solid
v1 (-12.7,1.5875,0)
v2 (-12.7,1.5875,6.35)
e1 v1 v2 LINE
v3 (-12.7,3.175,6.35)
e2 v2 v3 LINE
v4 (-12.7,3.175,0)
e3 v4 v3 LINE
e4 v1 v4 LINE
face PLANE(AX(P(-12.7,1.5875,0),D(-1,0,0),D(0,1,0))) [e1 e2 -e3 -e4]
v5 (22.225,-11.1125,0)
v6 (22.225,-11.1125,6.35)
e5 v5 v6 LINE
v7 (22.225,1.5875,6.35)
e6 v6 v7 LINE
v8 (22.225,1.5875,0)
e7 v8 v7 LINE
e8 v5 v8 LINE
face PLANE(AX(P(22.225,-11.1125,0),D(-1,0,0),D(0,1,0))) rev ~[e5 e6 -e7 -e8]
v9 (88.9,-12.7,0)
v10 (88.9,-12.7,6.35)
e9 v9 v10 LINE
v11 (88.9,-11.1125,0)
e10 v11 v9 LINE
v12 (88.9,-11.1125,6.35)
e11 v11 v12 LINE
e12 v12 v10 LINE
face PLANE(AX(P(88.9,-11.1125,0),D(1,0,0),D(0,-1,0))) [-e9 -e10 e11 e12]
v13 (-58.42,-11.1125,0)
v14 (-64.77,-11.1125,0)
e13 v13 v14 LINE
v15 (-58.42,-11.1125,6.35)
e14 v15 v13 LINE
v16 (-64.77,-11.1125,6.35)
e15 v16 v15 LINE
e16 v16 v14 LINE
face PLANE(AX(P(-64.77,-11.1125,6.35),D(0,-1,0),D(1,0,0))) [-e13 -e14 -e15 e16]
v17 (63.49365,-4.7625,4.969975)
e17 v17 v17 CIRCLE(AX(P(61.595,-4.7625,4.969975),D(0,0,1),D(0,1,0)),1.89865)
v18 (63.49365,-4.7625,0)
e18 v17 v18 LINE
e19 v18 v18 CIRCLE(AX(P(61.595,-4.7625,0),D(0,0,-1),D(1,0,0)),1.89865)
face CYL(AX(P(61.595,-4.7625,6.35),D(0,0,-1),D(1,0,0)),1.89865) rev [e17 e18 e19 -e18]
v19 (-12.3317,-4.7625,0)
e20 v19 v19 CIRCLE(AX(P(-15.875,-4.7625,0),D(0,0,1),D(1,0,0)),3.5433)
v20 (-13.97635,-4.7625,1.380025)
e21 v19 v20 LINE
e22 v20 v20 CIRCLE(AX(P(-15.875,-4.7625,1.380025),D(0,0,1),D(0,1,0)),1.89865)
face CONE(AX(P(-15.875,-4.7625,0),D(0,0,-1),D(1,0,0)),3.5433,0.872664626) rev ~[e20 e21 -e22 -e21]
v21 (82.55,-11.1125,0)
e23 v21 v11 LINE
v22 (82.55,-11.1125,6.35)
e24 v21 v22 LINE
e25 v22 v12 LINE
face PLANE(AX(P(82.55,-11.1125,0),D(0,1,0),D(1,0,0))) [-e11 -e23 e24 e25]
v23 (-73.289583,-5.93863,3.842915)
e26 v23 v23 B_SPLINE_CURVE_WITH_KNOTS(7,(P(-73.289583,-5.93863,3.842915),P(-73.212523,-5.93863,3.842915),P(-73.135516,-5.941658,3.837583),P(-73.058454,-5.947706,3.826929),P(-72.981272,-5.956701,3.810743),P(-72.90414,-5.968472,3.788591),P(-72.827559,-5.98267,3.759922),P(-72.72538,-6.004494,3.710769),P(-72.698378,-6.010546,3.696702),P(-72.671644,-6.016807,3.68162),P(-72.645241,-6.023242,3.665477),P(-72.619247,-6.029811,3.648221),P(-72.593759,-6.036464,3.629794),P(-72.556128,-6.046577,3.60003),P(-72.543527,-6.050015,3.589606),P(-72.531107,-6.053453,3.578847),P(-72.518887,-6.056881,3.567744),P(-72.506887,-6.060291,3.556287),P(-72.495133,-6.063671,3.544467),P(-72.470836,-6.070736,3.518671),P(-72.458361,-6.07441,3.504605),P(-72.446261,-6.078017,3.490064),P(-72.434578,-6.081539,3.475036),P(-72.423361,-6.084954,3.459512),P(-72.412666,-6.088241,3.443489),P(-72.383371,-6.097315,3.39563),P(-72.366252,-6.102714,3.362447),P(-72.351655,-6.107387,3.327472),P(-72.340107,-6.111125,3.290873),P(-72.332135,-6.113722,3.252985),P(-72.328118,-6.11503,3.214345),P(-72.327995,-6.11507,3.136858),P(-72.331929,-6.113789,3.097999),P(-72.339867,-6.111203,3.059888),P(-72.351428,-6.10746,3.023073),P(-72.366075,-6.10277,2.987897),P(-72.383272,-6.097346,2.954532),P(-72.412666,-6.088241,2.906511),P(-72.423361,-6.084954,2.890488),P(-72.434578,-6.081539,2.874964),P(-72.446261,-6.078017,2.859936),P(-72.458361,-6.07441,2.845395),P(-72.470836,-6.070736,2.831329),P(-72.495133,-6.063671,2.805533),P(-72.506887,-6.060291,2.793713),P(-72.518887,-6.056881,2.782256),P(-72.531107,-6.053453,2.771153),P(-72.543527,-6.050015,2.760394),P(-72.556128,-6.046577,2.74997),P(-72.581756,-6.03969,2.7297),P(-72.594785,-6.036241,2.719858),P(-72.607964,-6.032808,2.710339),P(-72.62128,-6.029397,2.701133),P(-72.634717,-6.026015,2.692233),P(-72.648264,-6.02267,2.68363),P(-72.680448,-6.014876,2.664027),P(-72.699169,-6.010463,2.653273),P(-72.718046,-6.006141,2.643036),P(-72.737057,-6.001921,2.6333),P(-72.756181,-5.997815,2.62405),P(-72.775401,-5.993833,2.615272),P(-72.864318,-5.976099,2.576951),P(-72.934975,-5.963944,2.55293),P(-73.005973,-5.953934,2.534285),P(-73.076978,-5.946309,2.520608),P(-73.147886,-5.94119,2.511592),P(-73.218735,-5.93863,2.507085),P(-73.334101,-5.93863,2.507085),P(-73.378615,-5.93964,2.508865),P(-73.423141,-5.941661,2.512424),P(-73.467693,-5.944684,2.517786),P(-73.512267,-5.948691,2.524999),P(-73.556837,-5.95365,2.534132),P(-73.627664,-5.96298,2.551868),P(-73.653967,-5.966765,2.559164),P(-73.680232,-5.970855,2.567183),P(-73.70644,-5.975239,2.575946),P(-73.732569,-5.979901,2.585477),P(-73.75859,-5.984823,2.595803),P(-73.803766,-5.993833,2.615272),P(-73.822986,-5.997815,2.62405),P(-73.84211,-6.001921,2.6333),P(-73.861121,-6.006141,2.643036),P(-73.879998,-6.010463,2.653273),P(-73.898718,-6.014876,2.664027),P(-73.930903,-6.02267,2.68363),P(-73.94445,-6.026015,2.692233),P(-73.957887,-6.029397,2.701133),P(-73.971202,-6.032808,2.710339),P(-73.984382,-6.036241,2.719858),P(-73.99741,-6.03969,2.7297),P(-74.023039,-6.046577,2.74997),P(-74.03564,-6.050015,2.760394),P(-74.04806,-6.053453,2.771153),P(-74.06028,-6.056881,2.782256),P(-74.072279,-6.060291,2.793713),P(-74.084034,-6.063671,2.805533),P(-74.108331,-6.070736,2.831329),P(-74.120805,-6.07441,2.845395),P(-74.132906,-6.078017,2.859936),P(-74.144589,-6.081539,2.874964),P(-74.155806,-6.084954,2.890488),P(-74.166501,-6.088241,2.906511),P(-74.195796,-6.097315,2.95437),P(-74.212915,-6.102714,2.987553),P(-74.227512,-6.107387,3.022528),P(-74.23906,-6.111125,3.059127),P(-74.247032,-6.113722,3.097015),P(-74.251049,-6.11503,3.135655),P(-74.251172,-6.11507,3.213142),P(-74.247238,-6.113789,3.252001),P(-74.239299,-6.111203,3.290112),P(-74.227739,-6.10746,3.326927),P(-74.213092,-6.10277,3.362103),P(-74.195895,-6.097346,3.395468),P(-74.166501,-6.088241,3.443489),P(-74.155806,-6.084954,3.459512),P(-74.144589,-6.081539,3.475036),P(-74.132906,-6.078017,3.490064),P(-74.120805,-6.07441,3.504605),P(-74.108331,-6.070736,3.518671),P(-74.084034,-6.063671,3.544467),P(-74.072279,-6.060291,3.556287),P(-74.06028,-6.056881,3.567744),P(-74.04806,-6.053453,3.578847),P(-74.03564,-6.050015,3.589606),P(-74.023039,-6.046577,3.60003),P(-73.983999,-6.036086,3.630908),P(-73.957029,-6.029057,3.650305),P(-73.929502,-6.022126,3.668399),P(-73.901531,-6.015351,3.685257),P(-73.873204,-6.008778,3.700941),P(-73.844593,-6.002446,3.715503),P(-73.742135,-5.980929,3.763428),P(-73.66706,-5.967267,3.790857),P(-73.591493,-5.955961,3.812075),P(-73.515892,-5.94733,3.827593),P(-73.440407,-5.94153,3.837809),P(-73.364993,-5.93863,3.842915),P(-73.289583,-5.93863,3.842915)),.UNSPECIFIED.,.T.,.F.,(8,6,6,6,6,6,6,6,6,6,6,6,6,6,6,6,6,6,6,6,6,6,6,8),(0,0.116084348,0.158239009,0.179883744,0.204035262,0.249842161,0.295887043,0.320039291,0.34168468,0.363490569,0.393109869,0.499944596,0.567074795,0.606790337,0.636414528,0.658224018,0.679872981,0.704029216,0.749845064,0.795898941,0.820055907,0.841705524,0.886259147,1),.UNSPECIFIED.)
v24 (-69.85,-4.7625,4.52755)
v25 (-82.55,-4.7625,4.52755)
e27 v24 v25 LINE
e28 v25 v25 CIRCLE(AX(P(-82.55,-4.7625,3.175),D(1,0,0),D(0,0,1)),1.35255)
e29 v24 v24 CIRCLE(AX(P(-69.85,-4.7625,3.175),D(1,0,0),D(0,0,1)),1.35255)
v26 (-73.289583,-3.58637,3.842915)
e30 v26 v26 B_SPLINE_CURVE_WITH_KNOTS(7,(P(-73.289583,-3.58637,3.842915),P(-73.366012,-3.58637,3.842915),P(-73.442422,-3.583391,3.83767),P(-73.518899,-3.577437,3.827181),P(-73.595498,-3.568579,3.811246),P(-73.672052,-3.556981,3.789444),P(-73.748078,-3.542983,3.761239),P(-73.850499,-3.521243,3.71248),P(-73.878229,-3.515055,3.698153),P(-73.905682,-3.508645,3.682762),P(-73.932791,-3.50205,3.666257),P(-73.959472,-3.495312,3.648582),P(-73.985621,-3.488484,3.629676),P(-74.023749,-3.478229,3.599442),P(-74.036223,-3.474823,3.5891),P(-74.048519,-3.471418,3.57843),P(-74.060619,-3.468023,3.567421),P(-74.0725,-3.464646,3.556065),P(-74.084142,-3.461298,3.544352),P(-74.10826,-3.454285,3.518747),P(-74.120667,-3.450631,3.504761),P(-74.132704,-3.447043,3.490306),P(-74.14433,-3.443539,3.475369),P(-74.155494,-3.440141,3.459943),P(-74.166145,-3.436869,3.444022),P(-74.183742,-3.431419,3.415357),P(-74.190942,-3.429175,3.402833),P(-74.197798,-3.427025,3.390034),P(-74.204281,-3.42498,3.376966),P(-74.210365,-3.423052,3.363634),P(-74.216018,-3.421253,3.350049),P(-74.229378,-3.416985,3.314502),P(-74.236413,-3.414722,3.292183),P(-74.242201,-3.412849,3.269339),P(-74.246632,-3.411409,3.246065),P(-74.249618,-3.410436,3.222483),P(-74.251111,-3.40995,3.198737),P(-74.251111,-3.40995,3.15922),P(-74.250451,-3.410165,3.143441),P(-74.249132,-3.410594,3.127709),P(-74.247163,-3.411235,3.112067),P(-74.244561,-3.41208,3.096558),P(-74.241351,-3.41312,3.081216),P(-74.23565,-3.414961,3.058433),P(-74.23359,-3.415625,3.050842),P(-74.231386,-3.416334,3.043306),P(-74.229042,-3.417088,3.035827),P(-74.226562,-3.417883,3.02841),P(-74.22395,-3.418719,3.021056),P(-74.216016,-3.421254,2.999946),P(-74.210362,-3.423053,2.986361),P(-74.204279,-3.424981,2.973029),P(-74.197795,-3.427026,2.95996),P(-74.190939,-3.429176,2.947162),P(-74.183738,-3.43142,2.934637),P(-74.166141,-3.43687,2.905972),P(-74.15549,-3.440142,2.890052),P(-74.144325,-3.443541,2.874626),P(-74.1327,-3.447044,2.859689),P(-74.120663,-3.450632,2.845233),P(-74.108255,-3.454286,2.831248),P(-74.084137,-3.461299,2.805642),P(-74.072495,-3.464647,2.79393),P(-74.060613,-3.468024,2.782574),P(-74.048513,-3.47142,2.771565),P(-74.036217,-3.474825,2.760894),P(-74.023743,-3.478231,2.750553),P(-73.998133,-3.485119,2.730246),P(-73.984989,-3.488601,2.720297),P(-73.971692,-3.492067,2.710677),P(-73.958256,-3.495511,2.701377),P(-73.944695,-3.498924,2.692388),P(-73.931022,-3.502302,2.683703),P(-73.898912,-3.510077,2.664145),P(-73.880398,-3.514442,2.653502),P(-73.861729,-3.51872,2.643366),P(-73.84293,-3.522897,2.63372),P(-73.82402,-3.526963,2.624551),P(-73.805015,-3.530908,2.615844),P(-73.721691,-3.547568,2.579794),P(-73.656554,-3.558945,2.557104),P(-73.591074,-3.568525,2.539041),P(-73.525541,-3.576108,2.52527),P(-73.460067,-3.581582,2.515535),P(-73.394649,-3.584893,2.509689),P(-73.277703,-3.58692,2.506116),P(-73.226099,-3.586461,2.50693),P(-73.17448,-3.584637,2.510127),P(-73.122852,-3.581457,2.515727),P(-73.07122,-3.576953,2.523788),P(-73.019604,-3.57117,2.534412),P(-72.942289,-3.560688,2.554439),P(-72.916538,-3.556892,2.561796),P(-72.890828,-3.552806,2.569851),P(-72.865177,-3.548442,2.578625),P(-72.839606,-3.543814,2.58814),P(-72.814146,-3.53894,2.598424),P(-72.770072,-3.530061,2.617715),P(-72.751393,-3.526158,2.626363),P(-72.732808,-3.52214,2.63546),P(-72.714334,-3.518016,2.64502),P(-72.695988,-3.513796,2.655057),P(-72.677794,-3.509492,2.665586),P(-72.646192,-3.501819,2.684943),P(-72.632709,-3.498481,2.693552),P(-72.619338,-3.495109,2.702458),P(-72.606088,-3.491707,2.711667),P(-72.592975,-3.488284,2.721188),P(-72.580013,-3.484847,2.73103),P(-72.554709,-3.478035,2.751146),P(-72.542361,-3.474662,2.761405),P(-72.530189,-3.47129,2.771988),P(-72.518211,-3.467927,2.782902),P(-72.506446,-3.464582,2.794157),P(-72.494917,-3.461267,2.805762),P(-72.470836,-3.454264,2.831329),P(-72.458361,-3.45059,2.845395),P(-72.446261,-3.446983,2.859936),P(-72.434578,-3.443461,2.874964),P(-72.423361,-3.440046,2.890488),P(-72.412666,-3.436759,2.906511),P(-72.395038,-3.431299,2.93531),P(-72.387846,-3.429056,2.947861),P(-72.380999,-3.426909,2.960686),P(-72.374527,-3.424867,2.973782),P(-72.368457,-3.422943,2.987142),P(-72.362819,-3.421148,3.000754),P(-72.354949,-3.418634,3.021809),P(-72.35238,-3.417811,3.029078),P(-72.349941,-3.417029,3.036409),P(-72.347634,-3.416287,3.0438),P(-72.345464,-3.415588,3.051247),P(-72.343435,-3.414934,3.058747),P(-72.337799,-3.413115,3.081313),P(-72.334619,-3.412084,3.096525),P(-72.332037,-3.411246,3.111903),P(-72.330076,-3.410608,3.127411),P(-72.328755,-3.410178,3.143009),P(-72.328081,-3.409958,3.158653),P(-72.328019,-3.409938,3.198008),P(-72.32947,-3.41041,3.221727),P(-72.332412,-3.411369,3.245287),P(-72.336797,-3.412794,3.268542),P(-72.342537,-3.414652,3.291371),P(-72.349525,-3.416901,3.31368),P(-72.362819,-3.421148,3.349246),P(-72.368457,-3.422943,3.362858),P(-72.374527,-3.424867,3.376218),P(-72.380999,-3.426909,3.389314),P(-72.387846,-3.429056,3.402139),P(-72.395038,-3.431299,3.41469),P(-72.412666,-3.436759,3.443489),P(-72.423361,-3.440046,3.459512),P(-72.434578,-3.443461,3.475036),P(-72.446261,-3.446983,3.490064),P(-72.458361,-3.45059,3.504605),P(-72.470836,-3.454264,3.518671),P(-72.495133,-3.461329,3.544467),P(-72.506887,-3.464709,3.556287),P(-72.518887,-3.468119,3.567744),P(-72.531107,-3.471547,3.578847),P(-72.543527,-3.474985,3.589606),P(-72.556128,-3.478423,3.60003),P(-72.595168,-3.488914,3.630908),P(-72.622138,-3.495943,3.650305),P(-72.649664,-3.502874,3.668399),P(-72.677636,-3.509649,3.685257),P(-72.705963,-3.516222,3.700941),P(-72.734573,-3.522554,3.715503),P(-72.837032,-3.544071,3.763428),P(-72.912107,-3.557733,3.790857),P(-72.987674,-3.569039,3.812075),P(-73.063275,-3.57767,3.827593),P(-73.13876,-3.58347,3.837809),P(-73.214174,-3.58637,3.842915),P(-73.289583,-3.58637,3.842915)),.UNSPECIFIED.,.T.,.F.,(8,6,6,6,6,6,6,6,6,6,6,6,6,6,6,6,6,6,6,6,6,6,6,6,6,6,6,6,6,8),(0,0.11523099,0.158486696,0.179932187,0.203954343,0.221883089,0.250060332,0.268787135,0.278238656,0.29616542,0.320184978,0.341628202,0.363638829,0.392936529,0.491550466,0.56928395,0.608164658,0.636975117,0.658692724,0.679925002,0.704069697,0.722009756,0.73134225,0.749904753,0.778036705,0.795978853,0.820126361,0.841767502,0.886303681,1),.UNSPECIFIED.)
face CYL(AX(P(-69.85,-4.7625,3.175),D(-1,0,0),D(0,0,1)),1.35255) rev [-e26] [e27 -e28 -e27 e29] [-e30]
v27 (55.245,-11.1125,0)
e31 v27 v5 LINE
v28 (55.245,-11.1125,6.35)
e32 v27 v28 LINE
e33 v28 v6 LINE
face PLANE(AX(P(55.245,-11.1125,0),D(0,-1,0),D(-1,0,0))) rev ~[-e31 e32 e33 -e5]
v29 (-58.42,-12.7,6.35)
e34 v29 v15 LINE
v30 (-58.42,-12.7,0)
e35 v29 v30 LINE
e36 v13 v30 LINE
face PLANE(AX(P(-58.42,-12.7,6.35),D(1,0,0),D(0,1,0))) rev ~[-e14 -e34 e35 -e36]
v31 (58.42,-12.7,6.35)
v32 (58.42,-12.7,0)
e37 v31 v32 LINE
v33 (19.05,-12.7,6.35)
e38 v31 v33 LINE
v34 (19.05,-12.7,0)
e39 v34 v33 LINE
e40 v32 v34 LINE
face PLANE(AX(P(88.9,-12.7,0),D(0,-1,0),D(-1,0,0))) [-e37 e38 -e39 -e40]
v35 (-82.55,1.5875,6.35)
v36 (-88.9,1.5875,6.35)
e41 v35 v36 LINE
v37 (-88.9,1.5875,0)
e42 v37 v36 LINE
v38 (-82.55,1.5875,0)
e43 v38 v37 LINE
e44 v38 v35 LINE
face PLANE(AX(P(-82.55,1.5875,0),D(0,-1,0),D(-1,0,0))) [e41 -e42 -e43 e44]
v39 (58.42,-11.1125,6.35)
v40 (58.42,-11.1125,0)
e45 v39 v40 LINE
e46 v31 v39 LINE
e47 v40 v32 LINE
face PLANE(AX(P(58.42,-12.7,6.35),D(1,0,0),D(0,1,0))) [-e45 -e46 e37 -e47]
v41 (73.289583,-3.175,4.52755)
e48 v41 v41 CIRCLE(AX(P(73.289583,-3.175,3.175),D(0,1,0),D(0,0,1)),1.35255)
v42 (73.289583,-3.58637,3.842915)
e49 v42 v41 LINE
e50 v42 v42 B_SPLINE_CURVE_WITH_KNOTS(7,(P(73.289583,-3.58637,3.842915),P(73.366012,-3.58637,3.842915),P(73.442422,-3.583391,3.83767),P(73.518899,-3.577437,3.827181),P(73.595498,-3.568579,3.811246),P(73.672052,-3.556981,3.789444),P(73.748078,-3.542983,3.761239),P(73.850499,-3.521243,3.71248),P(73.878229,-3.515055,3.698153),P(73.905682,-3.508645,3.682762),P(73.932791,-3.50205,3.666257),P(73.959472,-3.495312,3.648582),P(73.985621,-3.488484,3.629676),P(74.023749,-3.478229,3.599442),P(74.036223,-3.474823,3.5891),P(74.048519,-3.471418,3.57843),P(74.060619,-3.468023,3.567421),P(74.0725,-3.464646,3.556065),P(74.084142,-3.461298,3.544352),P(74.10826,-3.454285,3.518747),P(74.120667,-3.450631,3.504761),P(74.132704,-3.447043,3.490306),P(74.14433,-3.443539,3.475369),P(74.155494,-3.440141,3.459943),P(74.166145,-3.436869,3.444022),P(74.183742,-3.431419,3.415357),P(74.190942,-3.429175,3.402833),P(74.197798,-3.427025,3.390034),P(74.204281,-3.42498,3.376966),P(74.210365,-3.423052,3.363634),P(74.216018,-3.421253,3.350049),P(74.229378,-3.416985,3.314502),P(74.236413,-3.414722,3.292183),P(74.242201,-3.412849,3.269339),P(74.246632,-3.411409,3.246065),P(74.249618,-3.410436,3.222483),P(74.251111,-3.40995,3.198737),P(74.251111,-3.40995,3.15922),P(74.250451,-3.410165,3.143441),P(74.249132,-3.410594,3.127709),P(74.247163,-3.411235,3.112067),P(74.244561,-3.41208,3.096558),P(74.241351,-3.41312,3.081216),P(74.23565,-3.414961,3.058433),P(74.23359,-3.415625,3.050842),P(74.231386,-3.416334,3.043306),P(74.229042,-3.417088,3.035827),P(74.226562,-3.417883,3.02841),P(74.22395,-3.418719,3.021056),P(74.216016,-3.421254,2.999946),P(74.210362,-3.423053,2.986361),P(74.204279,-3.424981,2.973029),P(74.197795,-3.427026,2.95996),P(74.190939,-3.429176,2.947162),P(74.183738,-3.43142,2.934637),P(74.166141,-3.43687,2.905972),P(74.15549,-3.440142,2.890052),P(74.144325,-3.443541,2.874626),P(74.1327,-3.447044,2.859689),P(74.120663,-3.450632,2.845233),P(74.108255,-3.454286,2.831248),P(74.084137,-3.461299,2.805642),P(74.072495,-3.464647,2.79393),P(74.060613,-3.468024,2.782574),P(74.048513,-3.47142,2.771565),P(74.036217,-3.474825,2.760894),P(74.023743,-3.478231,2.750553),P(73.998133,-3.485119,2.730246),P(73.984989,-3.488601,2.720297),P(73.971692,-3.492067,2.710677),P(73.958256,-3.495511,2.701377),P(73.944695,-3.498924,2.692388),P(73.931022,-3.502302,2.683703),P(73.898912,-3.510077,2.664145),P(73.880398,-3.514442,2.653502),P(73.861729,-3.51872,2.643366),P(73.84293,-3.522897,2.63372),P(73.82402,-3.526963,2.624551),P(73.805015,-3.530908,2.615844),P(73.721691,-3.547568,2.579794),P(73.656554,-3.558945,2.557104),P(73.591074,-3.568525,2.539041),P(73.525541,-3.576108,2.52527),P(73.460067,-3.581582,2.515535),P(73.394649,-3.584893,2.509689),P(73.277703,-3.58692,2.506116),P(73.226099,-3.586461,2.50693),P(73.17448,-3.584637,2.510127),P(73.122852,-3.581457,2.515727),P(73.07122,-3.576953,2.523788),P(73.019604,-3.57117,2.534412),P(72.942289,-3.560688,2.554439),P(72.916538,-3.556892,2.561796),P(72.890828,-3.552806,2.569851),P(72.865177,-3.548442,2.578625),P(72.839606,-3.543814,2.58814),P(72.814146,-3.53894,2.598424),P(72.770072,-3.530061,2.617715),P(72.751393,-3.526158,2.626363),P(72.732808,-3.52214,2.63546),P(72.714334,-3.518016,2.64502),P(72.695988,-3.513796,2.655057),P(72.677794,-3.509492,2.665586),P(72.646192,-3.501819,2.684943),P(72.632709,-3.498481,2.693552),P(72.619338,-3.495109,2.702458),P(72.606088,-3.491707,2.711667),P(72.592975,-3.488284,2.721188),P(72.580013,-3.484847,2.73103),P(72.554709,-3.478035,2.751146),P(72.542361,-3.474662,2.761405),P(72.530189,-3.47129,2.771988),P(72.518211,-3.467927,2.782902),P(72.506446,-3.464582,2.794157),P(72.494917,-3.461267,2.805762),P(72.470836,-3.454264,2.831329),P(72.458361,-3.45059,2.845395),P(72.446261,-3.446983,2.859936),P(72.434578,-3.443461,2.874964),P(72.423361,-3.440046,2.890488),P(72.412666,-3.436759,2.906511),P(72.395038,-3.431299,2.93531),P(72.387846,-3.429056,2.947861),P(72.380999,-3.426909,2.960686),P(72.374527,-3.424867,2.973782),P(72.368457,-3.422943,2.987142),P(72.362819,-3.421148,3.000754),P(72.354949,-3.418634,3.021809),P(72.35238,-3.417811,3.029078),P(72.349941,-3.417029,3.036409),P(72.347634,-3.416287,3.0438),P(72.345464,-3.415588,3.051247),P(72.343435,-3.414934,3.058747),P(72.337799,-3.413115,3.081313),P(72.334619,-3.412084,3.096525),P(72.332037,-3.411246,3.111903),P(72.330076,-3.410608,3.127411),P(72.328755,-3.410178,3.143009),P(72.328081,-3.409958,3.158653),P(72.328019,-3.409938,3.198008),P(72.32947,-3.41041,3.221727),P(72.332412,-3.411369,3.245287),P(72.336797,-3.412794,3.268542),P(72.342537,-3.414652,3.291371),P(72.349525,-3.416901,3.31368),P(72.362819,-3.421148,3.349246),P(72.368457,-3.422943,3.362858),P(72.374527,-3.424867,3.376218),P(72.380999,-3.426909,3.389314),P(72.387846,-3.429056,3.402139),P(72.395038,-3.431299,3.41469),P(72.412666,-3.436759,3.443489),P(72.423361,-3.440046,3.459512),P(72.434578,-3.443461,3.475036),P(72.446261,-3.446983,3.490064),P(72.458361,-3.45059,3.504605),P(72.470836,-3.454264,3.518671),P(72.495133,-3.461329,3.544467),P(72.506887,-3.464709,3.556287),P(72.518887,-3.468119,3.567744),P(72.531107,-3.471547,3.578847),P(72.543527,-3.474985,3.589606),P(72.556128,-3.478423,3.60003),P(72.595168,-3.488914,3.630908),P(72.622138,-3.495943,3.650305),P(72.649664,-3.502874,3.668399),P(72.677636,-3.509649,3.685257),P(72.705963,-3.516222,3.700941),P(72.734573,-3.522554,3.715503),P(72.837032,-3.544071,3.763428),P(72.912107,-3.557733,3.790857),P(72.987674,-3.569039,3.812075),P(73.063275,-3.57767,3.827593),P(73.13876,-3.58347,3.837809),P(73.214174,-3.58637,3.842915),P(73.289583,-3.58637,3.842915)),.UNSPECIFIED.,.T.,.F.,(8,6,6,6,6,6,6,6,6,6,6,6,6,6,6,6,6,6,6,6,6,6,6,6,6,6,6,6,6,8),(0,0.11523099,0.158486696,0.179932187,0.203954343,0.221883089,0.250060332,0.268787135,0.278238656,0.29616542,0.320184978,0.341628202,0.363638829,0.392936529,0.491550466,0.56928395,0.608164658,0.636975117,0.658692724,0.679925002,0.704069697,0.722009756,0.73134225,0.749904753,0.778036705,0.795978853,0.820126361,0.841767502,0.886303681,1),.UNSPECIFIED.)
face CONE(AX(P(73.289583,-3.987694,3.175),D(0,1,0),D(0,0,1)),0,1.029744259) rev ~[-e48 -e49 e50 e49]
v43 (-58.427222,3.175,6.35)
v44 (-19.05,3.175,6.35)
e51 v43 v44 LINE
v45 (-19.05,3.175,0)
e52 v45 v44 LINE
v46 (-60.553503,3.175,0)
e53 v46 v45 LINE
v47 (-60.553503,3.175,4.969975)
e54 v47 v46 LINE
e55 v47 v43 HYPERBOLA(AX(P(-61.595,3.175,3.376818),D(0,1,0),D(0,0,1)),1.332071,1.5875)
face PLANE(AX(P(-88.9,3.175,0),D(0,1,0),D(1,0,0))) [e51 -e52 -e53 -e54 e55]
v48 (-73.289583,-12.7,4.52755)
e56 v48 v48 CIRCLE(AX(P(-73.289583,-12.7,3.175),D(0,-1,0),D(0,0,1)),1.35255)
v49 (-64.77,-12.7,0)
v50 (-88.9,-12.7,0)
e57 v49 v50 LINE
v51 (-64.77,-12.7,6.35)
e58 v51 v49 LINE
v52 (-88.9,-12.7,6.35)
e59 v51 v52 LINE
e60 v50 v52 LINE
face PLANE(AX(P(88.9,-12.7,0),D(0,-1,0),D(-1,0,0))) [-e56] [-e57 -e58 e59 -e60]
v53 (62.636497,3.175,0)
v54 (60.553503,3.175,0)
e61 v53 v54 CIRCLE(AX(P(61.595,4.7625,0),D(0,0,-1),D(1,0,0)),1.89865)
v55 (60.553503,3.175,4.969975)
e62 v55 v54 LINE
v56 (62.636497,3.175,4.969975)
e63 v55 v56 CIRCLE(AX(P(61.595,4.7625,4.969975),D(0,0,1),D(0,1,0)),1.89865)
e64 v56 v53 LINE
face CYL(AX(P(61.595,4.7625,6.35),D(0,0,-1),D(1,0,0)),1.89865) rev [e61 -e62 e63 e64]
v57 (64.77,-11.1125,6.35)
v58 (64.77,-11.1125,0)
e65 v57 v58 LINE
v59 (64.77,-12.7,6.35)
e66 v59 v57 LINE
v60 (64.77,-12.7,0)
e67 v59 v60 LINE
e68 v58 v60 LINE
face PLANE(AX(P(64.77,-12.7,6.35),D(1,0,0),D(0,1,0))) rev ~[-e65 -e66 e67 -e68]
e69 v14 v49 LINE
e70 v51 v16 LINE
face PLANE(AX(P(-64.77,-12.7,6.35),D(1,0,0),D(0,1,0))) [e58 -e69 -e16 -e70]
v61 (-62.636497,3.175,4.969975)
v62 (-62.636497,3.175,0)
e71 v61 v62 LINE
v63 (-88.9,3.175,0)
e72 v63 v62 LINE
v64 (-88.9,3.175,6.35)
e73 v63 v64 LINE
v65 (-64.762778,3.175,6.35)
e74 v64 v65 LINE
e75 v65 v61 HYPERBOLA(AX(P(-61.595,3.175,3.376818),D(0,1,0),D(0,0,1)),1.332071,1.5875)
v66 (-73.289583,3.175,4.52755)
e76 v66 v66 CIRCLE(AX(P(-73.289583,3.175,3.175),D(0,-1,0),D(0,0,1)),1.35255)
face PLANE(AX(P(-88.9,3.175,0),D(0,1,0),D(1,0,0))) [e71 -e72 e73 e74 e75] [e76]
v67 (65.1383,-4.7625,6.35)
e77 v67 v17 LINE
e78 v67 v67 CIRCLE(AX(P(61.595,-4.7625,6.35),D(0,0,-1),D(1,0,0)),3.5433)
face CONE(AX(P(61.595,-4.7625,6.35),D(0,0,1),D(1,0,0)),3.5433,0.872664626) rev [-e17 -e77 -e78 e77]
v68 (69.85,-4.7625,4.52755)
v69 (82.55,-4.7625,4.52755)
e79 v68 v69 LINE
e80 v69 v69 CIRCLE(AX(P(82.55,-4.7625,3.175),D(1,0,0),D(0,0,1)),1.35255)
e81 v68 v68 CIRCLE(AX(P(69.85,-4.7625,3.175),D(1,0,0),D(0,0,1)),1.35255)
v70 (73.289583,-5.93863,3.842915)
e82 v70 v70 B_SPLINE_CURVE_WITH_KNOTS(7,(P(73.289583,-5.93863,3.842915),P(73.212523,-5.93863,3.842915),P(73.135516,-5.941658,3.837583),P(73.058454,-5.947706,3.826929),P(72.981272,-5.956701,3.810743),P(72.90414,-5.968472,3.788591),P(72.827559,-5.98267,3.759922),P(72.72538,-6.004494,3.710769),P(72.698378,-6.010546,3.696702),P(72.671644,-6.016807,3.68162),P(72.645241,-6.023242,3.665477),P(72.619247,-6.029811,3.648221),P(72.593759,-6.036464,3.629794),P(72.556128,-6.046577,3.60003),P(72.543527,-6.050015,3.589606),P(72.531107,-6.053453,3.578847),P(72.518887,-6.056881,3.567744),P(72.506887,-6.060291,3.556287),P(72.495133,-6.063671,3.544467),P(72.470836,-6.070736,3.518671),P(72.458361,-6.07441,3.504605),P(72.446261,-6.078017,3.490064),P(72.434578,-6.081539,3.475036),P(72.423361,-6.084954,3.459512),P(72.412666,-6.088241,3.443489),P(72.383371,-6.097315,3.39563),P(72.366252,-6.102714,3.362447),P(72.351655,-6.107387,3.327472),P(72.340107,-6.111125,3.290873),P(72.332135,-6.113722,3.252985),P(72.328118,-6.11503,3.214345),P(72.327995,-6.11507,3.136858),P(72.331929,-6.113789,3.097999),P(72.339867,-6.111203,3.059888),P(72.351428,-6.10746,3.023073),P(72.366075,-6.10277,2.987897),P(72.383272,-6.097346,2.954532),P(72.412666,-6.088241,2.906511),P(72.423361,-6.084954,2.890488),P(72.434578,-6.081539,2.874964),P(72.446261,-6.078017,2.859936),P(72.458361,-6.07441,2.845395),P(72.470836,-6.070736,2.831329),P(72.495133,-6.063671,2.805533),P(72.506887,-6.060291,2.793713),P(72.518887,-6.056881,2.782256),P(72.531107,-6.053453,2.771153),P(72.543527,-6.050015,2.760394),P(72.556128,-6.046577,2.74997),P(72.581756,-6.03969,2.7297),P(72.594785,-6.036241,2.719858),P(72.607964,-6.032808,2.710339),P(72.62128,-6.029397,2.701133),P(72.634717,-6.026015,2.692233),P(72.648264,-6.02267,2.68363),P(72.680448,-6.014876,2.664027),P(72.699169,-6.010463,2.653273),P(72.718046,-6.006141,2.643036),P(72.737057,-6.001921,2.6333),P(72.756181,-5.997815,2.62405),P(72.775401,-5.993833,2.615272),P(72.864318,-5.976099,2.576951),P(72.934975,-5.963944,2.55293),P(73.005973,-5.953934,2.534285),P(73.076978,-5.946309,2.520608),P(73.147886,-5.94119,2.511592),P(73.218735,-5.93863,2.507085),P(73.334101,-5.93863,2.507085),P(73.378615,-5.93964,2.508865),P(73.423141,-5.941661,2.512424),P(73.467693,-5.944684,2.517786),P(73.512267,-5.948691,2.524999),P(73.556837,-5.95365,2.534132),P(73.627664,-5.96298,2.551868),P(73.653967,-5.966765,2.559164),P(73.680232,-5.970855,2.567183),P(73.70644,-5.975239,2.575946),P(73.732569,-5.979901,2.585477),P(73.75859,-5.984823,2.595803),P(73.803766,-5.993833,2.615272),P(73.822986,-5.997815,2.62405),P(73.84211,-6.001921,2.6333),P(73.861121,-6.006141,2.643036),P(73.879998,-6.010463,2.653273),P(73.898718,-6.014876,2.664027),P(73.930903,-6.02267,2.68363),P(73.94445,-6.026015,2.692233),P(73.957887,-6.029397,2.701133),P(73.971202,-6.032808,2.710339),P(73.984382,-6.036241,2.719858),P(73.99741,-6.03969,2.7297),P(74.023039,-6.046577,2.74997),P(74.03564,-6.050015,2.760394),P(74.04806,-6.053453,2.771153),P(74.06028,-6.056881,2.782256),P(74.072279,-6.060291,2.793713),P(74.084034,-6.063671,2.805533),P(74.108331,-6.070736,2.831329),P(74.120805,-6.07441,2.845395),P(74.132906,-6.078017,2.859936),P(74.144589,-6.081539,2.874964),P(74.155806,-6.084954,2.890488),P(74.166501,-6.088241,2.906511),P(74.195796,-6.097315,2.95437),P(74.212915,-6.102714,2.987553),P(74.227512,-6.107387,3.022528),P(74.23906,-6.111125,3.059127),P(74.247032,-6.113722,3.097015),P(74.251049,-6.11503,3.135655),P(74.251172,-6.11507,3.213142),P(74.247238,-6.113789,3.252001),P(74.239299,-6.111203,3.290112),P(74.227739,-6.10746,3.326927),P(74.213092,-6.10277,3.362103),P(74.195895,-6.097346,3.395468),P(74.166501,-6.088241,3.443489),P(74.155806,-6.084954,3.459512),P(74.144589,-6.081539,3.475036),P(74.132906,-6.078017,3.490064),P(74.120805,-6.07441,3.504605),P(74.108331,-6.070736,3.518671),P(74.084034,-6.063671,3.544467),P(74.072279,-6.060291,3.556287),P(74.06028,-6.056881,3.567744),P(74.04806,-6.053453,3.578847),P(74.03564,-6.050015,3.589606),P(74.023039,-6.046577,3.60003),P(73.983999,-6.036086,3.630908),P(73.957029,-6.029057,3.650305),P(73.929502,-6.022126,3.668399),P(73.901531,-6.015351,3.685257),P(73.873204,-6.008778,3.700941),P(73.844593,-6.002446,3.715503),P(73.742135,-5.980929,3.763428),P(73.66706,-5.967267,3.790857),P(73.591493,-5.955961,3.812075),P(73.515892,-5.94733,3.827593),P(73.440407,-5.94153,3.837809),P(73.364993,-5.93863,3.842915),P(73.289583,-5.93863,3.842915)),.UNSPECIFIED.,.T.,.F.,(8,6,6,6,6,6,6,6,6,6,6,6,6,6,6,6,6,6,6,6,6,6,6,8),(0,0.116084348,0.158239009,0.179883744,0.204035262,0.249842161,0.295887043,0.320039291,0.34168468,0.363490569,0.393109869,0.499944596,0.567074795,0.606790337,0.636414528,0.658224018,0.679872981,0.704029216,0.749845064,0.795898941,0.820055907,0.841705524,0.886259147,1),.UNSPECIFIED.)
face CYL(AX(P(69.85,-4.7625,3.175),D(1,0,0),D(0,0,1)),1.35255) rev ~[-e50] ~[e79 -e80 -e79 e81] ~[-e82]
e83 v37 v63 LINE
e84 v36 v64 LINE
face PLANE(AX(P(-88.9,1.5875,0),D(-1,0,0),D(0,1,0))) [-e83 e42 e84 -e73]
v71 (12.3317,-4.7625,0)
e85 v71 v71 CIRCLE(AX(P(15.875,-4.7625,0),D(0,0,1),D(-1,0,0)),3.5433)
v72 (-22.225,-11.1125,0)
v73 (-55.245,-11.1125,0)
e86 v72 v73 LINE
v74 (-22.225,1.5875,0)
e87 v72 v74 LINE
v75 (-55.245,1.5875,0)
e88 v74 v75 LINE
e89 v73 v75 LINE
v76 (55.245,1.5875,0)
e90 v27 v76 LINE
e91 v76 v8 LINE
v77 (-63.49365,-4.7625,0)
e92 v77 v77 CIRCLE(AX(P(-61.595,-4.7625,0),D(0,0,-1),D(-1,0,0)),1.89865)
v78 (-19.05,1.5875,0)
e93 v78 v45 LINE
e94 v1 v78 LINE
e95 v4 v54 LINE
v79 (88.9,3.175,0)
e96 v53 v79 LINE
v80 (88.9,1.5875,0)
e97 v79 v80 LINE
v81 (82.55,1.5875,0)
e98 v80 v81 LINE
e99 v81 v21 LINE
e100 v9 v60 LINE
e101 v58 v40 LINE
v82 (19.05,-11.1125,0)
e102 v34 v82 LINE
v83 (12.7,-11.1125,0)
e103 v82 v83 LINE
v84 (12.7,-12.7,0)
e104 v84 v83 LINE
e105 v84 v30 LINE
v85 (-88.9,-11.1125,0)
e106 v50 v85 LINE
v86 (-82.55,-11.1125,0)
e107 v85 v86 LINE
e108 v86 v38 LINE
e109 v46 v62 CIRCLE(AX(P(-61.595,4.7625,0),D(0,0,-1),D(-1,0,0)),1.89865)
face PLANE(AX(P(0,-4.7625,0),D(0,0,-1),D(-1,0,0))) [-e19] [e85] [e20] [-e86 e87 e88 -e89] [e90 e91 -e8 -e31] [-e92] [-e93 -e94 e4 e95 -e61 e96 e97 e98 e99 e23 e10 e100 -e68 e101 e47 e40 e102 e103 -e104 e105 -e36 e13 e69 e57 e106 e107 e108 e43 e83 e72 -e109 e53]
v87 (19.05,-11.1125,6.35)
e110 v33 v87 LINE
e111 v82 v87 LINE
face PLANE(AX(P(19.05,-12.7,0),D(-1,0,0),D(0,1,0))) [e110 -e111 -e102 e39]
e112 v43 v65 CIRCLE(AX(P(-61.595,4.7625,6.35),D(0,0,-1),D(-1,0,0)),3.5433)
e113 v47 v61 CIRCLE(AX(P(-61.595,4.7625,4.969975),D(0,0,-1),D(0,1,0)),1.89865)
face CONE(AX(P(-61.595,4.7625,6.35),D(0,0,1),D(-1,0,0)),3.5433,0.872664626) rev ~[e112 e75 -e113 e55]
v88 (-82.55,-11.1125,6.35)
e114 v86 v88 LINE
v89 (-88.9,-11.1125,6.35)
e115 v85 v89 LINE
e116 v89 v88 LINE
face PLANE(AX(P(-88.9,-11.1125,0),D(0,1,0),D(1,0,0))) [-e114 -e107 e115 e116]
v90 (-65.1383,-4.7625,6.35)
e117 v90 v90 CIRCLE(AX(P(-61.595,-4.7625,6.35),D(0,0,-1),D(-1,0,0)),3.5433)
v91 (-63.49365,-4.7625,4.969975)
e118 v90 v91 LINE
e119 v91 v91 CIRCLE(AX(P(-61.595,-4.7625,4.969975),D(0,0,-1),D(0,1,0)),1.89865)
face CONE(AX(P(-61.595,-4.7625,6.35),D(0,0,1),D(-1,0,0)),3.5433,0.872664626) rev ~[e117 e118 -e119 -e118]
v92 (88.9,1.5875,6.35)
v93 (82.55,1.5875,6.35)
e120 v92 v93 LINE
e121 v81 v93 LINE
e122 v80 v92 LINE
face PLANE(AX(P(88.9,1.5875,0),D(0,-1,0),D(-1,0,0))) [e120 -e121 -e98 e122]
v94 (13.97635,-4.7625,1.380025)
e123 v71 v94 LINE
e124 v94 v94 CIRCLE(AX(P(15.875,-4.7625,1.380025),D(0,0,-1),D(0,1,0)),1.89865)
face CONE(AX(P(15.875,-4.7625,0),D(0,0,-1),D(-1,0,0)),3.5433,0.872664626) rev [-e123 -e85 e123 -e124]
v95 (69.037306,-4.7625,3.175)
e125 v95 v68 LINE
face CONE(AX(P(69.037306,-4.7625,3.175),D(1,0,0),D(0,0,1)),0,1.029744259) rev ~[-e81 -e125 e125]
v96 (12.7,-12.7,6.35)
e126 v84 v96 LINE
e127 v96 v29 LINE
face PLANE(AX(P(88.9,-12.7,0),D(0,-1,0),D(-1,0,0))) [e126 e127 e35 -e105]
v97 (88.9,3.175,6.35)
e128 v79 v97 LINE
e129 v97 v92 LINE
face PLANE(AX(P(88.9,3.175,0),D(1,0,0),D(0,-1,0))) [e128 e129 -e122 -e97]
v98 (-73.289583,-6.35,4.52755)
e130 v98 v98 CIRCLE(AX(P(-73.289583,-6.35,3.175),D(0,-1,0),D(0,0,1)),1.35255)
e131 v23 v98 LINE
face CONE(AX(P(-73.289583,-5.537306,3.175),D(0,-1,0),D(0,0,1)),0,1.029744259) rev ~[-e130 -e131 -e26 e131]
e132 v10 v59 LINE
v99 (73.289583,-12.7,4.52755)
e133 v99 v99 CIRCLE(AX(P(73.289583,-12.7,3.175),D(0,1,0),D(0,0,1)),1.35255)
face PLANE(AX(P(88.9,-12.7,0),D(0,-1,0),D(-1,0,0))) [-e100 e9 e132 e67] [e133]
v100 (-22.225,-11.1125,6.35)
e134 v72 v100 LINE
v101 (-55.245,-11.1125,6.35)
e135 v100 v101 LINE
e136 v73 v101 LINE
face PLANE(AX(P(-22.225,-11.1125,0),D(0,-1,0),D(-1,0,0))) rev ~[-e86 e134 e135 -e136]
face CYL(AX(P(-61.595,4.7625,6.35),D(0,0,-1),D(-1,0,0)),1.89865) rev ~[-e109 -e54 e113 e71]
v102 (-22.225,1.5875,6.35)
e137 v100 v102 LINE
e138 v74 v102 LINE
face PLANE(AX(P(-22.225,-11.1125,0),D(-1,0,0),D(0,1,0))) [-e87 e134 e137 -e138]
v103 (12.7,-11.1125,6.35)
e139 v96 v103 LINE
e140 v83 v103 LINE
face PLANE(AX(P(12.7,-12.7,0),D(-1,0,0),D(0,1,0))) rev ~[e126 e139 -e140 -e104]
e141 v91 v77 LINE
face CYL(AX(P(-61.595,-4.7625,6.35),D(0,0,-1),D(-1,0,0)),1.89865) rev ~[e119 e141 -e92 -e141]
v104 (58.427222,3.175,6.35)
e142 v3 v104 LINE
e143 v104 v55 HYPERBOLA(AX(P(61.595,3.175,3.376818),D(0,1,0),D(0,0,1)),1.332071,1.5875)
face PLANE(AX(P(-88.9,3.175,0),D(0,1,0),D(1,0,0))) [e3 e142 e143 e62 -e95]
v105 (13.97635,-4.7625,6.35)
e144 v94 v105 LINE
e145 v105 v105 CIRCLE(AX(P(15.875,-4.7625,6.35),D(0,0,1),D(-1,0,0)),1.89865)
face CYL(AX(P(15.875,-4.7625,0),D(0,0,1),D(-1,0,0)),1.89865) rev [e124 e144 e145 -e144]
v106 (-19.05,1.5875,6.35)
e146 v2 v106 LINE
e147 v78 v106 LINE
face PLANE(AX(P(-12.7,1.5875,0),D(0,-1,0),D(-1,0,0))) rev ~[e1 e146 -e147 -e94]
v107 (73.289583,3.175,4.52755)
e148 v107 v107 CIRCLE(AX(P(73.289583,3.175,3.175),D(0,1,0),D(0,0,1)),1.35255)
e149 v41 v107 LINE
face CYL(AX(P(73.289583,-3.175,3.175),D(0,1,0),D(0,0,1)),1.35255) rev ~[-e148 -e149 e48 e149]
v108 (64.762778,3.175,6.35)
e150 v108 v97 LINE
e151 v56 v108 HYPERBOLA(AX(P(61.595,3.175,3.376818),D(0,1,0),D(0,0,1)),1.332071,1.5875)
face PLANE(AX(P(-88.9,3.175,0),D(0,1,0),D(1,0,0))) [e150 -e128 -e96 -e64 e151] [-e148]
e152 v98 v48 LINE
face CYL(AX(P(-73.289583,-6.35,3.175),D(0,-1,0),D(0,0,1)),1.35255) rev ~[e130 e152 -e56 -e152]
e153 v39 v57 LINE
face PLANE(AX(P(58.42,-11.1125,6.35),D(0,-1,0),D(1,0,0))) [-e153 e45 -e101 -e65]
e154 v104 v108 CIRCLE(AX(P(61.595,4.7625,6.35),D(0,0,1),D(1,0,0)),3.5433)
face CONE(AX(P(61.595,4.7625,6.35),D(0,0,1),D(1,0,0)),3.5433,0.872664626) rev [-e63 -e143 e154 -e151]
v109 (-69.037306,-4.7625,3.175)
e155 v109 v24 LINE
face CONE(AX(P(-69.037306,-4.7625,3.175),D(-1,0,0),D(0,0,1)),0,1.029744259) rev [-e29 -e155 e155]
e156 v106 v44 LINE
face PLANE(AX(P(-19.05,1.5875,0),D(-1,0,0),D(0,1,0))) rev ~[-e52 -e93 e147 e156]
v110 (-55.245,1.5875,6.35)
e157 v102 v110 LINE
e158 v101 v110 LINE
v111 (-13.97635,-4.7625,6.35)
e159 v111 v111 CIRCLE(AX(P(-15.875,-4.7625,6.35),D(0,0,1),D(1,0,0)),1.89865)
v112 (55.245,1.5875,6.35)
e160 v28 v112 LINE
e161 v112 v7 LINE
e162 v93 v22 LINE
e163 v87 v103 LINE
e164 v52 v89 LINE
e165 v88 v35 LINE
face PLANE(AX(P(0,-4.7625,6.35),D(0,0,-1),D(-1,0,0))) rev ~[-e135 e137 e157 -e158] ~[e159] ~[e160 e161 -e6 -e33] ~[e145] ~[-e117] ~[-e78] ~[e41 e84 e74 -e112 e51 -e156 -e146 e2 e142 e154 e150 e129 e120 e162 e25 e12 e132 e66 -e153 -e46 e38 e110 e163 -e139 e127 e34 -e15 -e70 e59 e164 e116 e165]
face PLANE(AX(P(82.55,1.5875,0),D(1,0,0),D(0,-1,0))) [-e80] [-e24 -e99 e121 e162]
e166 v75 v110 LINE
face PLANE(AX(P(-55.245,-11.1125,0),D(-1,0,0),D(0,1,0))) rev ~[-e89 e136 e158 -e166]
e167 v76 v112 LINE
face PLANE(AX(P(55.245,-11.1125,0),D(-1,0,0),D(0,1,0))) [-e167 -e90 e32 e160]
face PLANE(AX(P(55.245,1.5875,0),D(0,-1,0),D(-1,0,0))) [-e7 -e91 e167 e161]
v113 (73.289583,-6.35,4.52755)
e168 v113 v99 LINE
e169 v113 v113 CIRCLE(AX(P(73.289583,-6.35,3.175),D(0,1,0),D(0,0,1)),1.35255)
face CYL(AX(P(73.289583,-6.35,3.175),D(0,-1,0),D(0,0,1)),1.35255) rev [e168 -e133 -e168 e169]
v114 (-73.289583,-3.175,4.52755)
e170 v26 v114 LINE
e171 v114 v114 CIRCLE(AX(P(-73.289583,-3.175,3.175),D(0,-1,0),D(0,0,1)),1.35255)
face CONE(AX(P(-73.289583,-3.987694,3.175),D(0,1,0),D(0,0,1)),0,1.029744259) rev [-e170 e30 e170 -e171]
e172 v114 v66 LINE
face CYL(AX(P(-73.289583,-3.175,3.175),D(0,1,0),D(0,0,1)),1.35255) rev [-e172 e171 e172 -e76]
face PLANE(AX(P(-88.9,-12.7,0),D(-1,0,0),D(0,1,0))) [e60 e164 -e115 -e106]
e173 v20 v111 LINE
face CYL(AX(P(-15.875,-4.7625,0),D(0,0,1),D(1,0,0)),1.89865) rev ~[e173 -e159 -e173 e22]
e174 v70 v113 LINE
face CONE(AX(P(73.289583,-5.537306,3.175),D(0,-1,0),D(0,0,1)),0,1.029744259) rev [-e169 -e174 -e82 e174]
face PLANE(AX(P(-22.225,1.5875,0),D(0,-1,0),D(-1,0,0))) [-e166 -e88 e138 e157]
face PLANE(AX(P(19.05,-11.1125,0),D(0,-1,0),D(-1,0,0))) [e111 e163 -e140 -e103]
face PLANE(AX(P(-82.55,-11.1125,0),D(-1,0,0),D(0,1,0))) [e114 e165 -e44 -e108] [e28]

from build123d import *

# Parameters (mm, degrees)
BOSS_EXTRUDE1_DEPTH                               = 6.35
SKETCH7_W                                         = 6.35
SKETCH7_H                                         = 1.5875
CUT_EXTRUDE1_DEPTH                                = 91.02678768
SKETCH10_W                                        = 6.35
SKETCH10_H                                        = 1.5875
SKETCH10_W_2                                      = 33.02
SKETCH10_H_2                                      = 12.7
CUT_EXTRUDE5_DEPTH                                = 91.02678768
CSK_FOR_6_FLAT_HEAD_MACHINE_SCREW_100_D           = 3.7973
CSK_FOR_6_FLAT_HEAD_MACHINE_SCREW_100_CSINK_D     = 7.0866
CSK_FOR_6_FLAT_HEAD_MACHINE_SCREW_100_CSINK_ANGLE = 100
CSK_FOR_6_FLAT_HEAD_MACHINE_SCREW_2_D             = 3.7973
CSK_FOR_6_FLAT_HEAD_MACHINE_SCREW_2_CSINK_D       = 7.0866
CSK_FOR_6_FLAT_HEAD_MACHINE_SCREW_2_CSINK_ANGLE   = 100


with BuildPart() as part:
    # Sketch1 → Boss-Extrude1 (new body)
    with BuildSketch(Plane.XY):
        Polygon((-88.9, 3.175), (88.9, 3.175), (88.9, 1.5875), (82.55, 1.5875), (82.55, -11.1125), (88.9, -11.1125), (88.9, -12.7), (-88.9, -12.7), (-88.9, -11.1125), (-82.55, -11.1125), (-82.55, 1.5875), (-88.9, 1.5875), align=None)
    extrude(amount=BOSS_EXTRUDE1_DEPTH)

    # Sketch4 → Tap Drill for #6-32 Tap1 (revolve, cut)
    with BuildSketch(Plane(origin=(-82.55, -4.7625, 3.175), x_dir=(0, 0, 1), z_dir=(0, 1, 0))):
        Polygon((0, 0), (0, 13.51269403), (1.35255, 12.7), (1.35255, 0), align=None)
    tap_drill_for_6_32_tap1 = revolve(axis=Axis((-88.9, -4.7625, 3.175), (1, 0, 0)), mode=Mode.SUBTRACT)

    # Mirror1: Tap Drill for #6-32 Tap1 across plane
    add(tap_drill_for_6_32_tap1.mirror(Plane(origin=(0, 0, 0), x_dir=(0, 0, 1), z_dir=(1, 0, 0))), mode=Mode.SUBTRACT)

    # Sketch5 → Tap Drill for #6-32 Tap2 (revolve, cut)
    with BuildSketch(Plane(origin=(-73.289583418, 3.175, 3.175), x_dir=(0, 0, 1), z_dir=(1, 0, 0))):
        Polygon((0, 0), (0, 7.16269403), (1.35255, 6.35), (1.35255, 0), align=None)
    tap_drill_for_6_32_tap2 = revolve(axis=Axis((-73.289583418, 9.525, 3.175), (0, -1, 0)), mode=Mode.SUBTRACT)

    # Mirror2: Tap Drill for #6-32 Tap2 across plane
    add(tap_drill_for_6_32_tap2.mirror(Plane(origin=(0, 0, 0), x_dir=(0, 0, 1), z_dir=(1, 0, 0))), mode=Mode.SUBTRACT)

    # Mirror3: Tap Drill for #6-32 Tap2 across plane
    add(tap_drill_for_6_32_tap2.mirror(Plane(origin=(0, -4.7625, 0), x_dir=(0, 0, 1), z_dir=(0, -1, 0))), mode=Mode.SUBTRACT)

    # Mirror3 copy 1 sketch → Mirror3 copy 1 (revolve, cut)
    with BuildSketch(Plane(origin=(73.289583418, -12.7, 3.175), x_dir=(0, 0, 1), z_dir=(-1, 0, 0))):
        Polygon((0, 0), (0, 7.16269403), (1.35255, 6.35), (1.35255, 0), align=None)
    revolve(axis=Axis((73.289583418, -19.05, 3.175), (0, 1, 0)), mode=Mode.SUBTRACT)

    # Sketch7 → Cut-Extrude1 (cut, through all)
    with BuildSketch(Plane.XY.offset(6.35)):
        with Locations((-61.595, 11.90625)):
            Rectangle(SKETCH7_W, SKETCH7_H)
        with Locations((-61.595, -11.90625)):
            Rectangle(SKETCH7_W, SKETCH7_H)
        with Locations((61.595, -11.90625)):
            Rectangle(SKETCH7_W, SKETCH7_H)
        with Locations((61.595, 11.90625)):
            Rectangle(SKETCH7_W, SKETCH7_H)
    extrude(amount=-CUT_EXTRUDE1_DEPTH, mode=Mode.SUBTRACT)

    # Sketch10 → Cut-Extrude5 (cut, through all)
    with BuildSketch(Plane(origin=(0, 0, 0), x_dir=(-1, 0, 0), z_dir=(0, 0, -1))):
        with Locations((-15.875, 11.90625)):
            Rectangle(SKETCH10_W, SKETCH10_H)
        with Locations((15.875, 2.38125)):
            Rectangle(SKETCH10_W, SKETCH10_H)
        with Locations((-15.875, -11.90625)):
            Rectangle(SKETCH10_W, SKETCH10_H)
        with Locations((15.875, -21.43125)):
            Rectangle(SKETCH10_W, SKETCH10_H)
        with Locations((-38.735, -4.7625)):
            Rectangle(SKETCH10_W_2, SKETCH10_H_2)
        with Locations((38.735, -4.7625)):
            Rectangle(SKETCH10_W_2, SKETCH10_H_2)
    extrude(amount=-CUT_EXTRUDE5_DEPTH, mode=Mode.SUBTRACT)

    # CSK for _6 Flat Head Machine Screw _100 (through all)
    with Locations(Plane.XY.offset(6.35)):
        with Locations((-61.595, 4.7625), (-61.595, -4.7625)):
            csk_for_6_flat_head_machine_screw_100 = CounterSinkHole(CSK_FOR_6_FLAT_HEAD_MACHINE_SCREW_100_D / 2, CSK_FOR_6_FLAT_HEAD_MACHINE_SCREW_100_CSINK_D / 2, counter_sink_angle=CSK_FOR_6_FLAT_HEAD_MACHINE_SCREW_100_CSINK_ANGLE)

    # CSK for _6 Flat Head Machine Screw _ 2 (through all)
    with Locations(Plane(origin=(0, 0, 0), x_dir=(-1, 0, 0), z_dir=(0, 0, -1))):
        with Locations((15.875, -4.7625)):
            csk_for_6_flat_head_machine_screw_2 = CounterSinkHole(CSK_FOR_6_FLAT_HEAD_MACHINE_SCREW_2_D / 2, CSK_FOR_6_FLAT_HEAD_MACHINE_SCREW_2_CSINK_D / 2, counter_sink_angle=CSK_FOR_6_FLAT_HEAD_MACHINE_SCREW_2_CSINK_ANGLE)

    # Mirror5: CSK for _6 Flat Head Machine Screw _100, CSK for _6 Flat Head Machine Screw _ 2 across plane
    add(csk_for_6_flat_head_machine_screw_100.mirror(Plane(origin=(0, 0, 0), x_dir=(0, 0, 1), z_dir=(1, 0, 0))), mode=Mode.SUBTRACT)
    add(csk_for_6_flat_head_machine_screw_2.mirror(Plane(origin=(0, 0, 0), x_dir=(0, 0, 1), z_dir=(1, 0, 0))), mode=Mode.SUBTRACT)


solid = part.part
